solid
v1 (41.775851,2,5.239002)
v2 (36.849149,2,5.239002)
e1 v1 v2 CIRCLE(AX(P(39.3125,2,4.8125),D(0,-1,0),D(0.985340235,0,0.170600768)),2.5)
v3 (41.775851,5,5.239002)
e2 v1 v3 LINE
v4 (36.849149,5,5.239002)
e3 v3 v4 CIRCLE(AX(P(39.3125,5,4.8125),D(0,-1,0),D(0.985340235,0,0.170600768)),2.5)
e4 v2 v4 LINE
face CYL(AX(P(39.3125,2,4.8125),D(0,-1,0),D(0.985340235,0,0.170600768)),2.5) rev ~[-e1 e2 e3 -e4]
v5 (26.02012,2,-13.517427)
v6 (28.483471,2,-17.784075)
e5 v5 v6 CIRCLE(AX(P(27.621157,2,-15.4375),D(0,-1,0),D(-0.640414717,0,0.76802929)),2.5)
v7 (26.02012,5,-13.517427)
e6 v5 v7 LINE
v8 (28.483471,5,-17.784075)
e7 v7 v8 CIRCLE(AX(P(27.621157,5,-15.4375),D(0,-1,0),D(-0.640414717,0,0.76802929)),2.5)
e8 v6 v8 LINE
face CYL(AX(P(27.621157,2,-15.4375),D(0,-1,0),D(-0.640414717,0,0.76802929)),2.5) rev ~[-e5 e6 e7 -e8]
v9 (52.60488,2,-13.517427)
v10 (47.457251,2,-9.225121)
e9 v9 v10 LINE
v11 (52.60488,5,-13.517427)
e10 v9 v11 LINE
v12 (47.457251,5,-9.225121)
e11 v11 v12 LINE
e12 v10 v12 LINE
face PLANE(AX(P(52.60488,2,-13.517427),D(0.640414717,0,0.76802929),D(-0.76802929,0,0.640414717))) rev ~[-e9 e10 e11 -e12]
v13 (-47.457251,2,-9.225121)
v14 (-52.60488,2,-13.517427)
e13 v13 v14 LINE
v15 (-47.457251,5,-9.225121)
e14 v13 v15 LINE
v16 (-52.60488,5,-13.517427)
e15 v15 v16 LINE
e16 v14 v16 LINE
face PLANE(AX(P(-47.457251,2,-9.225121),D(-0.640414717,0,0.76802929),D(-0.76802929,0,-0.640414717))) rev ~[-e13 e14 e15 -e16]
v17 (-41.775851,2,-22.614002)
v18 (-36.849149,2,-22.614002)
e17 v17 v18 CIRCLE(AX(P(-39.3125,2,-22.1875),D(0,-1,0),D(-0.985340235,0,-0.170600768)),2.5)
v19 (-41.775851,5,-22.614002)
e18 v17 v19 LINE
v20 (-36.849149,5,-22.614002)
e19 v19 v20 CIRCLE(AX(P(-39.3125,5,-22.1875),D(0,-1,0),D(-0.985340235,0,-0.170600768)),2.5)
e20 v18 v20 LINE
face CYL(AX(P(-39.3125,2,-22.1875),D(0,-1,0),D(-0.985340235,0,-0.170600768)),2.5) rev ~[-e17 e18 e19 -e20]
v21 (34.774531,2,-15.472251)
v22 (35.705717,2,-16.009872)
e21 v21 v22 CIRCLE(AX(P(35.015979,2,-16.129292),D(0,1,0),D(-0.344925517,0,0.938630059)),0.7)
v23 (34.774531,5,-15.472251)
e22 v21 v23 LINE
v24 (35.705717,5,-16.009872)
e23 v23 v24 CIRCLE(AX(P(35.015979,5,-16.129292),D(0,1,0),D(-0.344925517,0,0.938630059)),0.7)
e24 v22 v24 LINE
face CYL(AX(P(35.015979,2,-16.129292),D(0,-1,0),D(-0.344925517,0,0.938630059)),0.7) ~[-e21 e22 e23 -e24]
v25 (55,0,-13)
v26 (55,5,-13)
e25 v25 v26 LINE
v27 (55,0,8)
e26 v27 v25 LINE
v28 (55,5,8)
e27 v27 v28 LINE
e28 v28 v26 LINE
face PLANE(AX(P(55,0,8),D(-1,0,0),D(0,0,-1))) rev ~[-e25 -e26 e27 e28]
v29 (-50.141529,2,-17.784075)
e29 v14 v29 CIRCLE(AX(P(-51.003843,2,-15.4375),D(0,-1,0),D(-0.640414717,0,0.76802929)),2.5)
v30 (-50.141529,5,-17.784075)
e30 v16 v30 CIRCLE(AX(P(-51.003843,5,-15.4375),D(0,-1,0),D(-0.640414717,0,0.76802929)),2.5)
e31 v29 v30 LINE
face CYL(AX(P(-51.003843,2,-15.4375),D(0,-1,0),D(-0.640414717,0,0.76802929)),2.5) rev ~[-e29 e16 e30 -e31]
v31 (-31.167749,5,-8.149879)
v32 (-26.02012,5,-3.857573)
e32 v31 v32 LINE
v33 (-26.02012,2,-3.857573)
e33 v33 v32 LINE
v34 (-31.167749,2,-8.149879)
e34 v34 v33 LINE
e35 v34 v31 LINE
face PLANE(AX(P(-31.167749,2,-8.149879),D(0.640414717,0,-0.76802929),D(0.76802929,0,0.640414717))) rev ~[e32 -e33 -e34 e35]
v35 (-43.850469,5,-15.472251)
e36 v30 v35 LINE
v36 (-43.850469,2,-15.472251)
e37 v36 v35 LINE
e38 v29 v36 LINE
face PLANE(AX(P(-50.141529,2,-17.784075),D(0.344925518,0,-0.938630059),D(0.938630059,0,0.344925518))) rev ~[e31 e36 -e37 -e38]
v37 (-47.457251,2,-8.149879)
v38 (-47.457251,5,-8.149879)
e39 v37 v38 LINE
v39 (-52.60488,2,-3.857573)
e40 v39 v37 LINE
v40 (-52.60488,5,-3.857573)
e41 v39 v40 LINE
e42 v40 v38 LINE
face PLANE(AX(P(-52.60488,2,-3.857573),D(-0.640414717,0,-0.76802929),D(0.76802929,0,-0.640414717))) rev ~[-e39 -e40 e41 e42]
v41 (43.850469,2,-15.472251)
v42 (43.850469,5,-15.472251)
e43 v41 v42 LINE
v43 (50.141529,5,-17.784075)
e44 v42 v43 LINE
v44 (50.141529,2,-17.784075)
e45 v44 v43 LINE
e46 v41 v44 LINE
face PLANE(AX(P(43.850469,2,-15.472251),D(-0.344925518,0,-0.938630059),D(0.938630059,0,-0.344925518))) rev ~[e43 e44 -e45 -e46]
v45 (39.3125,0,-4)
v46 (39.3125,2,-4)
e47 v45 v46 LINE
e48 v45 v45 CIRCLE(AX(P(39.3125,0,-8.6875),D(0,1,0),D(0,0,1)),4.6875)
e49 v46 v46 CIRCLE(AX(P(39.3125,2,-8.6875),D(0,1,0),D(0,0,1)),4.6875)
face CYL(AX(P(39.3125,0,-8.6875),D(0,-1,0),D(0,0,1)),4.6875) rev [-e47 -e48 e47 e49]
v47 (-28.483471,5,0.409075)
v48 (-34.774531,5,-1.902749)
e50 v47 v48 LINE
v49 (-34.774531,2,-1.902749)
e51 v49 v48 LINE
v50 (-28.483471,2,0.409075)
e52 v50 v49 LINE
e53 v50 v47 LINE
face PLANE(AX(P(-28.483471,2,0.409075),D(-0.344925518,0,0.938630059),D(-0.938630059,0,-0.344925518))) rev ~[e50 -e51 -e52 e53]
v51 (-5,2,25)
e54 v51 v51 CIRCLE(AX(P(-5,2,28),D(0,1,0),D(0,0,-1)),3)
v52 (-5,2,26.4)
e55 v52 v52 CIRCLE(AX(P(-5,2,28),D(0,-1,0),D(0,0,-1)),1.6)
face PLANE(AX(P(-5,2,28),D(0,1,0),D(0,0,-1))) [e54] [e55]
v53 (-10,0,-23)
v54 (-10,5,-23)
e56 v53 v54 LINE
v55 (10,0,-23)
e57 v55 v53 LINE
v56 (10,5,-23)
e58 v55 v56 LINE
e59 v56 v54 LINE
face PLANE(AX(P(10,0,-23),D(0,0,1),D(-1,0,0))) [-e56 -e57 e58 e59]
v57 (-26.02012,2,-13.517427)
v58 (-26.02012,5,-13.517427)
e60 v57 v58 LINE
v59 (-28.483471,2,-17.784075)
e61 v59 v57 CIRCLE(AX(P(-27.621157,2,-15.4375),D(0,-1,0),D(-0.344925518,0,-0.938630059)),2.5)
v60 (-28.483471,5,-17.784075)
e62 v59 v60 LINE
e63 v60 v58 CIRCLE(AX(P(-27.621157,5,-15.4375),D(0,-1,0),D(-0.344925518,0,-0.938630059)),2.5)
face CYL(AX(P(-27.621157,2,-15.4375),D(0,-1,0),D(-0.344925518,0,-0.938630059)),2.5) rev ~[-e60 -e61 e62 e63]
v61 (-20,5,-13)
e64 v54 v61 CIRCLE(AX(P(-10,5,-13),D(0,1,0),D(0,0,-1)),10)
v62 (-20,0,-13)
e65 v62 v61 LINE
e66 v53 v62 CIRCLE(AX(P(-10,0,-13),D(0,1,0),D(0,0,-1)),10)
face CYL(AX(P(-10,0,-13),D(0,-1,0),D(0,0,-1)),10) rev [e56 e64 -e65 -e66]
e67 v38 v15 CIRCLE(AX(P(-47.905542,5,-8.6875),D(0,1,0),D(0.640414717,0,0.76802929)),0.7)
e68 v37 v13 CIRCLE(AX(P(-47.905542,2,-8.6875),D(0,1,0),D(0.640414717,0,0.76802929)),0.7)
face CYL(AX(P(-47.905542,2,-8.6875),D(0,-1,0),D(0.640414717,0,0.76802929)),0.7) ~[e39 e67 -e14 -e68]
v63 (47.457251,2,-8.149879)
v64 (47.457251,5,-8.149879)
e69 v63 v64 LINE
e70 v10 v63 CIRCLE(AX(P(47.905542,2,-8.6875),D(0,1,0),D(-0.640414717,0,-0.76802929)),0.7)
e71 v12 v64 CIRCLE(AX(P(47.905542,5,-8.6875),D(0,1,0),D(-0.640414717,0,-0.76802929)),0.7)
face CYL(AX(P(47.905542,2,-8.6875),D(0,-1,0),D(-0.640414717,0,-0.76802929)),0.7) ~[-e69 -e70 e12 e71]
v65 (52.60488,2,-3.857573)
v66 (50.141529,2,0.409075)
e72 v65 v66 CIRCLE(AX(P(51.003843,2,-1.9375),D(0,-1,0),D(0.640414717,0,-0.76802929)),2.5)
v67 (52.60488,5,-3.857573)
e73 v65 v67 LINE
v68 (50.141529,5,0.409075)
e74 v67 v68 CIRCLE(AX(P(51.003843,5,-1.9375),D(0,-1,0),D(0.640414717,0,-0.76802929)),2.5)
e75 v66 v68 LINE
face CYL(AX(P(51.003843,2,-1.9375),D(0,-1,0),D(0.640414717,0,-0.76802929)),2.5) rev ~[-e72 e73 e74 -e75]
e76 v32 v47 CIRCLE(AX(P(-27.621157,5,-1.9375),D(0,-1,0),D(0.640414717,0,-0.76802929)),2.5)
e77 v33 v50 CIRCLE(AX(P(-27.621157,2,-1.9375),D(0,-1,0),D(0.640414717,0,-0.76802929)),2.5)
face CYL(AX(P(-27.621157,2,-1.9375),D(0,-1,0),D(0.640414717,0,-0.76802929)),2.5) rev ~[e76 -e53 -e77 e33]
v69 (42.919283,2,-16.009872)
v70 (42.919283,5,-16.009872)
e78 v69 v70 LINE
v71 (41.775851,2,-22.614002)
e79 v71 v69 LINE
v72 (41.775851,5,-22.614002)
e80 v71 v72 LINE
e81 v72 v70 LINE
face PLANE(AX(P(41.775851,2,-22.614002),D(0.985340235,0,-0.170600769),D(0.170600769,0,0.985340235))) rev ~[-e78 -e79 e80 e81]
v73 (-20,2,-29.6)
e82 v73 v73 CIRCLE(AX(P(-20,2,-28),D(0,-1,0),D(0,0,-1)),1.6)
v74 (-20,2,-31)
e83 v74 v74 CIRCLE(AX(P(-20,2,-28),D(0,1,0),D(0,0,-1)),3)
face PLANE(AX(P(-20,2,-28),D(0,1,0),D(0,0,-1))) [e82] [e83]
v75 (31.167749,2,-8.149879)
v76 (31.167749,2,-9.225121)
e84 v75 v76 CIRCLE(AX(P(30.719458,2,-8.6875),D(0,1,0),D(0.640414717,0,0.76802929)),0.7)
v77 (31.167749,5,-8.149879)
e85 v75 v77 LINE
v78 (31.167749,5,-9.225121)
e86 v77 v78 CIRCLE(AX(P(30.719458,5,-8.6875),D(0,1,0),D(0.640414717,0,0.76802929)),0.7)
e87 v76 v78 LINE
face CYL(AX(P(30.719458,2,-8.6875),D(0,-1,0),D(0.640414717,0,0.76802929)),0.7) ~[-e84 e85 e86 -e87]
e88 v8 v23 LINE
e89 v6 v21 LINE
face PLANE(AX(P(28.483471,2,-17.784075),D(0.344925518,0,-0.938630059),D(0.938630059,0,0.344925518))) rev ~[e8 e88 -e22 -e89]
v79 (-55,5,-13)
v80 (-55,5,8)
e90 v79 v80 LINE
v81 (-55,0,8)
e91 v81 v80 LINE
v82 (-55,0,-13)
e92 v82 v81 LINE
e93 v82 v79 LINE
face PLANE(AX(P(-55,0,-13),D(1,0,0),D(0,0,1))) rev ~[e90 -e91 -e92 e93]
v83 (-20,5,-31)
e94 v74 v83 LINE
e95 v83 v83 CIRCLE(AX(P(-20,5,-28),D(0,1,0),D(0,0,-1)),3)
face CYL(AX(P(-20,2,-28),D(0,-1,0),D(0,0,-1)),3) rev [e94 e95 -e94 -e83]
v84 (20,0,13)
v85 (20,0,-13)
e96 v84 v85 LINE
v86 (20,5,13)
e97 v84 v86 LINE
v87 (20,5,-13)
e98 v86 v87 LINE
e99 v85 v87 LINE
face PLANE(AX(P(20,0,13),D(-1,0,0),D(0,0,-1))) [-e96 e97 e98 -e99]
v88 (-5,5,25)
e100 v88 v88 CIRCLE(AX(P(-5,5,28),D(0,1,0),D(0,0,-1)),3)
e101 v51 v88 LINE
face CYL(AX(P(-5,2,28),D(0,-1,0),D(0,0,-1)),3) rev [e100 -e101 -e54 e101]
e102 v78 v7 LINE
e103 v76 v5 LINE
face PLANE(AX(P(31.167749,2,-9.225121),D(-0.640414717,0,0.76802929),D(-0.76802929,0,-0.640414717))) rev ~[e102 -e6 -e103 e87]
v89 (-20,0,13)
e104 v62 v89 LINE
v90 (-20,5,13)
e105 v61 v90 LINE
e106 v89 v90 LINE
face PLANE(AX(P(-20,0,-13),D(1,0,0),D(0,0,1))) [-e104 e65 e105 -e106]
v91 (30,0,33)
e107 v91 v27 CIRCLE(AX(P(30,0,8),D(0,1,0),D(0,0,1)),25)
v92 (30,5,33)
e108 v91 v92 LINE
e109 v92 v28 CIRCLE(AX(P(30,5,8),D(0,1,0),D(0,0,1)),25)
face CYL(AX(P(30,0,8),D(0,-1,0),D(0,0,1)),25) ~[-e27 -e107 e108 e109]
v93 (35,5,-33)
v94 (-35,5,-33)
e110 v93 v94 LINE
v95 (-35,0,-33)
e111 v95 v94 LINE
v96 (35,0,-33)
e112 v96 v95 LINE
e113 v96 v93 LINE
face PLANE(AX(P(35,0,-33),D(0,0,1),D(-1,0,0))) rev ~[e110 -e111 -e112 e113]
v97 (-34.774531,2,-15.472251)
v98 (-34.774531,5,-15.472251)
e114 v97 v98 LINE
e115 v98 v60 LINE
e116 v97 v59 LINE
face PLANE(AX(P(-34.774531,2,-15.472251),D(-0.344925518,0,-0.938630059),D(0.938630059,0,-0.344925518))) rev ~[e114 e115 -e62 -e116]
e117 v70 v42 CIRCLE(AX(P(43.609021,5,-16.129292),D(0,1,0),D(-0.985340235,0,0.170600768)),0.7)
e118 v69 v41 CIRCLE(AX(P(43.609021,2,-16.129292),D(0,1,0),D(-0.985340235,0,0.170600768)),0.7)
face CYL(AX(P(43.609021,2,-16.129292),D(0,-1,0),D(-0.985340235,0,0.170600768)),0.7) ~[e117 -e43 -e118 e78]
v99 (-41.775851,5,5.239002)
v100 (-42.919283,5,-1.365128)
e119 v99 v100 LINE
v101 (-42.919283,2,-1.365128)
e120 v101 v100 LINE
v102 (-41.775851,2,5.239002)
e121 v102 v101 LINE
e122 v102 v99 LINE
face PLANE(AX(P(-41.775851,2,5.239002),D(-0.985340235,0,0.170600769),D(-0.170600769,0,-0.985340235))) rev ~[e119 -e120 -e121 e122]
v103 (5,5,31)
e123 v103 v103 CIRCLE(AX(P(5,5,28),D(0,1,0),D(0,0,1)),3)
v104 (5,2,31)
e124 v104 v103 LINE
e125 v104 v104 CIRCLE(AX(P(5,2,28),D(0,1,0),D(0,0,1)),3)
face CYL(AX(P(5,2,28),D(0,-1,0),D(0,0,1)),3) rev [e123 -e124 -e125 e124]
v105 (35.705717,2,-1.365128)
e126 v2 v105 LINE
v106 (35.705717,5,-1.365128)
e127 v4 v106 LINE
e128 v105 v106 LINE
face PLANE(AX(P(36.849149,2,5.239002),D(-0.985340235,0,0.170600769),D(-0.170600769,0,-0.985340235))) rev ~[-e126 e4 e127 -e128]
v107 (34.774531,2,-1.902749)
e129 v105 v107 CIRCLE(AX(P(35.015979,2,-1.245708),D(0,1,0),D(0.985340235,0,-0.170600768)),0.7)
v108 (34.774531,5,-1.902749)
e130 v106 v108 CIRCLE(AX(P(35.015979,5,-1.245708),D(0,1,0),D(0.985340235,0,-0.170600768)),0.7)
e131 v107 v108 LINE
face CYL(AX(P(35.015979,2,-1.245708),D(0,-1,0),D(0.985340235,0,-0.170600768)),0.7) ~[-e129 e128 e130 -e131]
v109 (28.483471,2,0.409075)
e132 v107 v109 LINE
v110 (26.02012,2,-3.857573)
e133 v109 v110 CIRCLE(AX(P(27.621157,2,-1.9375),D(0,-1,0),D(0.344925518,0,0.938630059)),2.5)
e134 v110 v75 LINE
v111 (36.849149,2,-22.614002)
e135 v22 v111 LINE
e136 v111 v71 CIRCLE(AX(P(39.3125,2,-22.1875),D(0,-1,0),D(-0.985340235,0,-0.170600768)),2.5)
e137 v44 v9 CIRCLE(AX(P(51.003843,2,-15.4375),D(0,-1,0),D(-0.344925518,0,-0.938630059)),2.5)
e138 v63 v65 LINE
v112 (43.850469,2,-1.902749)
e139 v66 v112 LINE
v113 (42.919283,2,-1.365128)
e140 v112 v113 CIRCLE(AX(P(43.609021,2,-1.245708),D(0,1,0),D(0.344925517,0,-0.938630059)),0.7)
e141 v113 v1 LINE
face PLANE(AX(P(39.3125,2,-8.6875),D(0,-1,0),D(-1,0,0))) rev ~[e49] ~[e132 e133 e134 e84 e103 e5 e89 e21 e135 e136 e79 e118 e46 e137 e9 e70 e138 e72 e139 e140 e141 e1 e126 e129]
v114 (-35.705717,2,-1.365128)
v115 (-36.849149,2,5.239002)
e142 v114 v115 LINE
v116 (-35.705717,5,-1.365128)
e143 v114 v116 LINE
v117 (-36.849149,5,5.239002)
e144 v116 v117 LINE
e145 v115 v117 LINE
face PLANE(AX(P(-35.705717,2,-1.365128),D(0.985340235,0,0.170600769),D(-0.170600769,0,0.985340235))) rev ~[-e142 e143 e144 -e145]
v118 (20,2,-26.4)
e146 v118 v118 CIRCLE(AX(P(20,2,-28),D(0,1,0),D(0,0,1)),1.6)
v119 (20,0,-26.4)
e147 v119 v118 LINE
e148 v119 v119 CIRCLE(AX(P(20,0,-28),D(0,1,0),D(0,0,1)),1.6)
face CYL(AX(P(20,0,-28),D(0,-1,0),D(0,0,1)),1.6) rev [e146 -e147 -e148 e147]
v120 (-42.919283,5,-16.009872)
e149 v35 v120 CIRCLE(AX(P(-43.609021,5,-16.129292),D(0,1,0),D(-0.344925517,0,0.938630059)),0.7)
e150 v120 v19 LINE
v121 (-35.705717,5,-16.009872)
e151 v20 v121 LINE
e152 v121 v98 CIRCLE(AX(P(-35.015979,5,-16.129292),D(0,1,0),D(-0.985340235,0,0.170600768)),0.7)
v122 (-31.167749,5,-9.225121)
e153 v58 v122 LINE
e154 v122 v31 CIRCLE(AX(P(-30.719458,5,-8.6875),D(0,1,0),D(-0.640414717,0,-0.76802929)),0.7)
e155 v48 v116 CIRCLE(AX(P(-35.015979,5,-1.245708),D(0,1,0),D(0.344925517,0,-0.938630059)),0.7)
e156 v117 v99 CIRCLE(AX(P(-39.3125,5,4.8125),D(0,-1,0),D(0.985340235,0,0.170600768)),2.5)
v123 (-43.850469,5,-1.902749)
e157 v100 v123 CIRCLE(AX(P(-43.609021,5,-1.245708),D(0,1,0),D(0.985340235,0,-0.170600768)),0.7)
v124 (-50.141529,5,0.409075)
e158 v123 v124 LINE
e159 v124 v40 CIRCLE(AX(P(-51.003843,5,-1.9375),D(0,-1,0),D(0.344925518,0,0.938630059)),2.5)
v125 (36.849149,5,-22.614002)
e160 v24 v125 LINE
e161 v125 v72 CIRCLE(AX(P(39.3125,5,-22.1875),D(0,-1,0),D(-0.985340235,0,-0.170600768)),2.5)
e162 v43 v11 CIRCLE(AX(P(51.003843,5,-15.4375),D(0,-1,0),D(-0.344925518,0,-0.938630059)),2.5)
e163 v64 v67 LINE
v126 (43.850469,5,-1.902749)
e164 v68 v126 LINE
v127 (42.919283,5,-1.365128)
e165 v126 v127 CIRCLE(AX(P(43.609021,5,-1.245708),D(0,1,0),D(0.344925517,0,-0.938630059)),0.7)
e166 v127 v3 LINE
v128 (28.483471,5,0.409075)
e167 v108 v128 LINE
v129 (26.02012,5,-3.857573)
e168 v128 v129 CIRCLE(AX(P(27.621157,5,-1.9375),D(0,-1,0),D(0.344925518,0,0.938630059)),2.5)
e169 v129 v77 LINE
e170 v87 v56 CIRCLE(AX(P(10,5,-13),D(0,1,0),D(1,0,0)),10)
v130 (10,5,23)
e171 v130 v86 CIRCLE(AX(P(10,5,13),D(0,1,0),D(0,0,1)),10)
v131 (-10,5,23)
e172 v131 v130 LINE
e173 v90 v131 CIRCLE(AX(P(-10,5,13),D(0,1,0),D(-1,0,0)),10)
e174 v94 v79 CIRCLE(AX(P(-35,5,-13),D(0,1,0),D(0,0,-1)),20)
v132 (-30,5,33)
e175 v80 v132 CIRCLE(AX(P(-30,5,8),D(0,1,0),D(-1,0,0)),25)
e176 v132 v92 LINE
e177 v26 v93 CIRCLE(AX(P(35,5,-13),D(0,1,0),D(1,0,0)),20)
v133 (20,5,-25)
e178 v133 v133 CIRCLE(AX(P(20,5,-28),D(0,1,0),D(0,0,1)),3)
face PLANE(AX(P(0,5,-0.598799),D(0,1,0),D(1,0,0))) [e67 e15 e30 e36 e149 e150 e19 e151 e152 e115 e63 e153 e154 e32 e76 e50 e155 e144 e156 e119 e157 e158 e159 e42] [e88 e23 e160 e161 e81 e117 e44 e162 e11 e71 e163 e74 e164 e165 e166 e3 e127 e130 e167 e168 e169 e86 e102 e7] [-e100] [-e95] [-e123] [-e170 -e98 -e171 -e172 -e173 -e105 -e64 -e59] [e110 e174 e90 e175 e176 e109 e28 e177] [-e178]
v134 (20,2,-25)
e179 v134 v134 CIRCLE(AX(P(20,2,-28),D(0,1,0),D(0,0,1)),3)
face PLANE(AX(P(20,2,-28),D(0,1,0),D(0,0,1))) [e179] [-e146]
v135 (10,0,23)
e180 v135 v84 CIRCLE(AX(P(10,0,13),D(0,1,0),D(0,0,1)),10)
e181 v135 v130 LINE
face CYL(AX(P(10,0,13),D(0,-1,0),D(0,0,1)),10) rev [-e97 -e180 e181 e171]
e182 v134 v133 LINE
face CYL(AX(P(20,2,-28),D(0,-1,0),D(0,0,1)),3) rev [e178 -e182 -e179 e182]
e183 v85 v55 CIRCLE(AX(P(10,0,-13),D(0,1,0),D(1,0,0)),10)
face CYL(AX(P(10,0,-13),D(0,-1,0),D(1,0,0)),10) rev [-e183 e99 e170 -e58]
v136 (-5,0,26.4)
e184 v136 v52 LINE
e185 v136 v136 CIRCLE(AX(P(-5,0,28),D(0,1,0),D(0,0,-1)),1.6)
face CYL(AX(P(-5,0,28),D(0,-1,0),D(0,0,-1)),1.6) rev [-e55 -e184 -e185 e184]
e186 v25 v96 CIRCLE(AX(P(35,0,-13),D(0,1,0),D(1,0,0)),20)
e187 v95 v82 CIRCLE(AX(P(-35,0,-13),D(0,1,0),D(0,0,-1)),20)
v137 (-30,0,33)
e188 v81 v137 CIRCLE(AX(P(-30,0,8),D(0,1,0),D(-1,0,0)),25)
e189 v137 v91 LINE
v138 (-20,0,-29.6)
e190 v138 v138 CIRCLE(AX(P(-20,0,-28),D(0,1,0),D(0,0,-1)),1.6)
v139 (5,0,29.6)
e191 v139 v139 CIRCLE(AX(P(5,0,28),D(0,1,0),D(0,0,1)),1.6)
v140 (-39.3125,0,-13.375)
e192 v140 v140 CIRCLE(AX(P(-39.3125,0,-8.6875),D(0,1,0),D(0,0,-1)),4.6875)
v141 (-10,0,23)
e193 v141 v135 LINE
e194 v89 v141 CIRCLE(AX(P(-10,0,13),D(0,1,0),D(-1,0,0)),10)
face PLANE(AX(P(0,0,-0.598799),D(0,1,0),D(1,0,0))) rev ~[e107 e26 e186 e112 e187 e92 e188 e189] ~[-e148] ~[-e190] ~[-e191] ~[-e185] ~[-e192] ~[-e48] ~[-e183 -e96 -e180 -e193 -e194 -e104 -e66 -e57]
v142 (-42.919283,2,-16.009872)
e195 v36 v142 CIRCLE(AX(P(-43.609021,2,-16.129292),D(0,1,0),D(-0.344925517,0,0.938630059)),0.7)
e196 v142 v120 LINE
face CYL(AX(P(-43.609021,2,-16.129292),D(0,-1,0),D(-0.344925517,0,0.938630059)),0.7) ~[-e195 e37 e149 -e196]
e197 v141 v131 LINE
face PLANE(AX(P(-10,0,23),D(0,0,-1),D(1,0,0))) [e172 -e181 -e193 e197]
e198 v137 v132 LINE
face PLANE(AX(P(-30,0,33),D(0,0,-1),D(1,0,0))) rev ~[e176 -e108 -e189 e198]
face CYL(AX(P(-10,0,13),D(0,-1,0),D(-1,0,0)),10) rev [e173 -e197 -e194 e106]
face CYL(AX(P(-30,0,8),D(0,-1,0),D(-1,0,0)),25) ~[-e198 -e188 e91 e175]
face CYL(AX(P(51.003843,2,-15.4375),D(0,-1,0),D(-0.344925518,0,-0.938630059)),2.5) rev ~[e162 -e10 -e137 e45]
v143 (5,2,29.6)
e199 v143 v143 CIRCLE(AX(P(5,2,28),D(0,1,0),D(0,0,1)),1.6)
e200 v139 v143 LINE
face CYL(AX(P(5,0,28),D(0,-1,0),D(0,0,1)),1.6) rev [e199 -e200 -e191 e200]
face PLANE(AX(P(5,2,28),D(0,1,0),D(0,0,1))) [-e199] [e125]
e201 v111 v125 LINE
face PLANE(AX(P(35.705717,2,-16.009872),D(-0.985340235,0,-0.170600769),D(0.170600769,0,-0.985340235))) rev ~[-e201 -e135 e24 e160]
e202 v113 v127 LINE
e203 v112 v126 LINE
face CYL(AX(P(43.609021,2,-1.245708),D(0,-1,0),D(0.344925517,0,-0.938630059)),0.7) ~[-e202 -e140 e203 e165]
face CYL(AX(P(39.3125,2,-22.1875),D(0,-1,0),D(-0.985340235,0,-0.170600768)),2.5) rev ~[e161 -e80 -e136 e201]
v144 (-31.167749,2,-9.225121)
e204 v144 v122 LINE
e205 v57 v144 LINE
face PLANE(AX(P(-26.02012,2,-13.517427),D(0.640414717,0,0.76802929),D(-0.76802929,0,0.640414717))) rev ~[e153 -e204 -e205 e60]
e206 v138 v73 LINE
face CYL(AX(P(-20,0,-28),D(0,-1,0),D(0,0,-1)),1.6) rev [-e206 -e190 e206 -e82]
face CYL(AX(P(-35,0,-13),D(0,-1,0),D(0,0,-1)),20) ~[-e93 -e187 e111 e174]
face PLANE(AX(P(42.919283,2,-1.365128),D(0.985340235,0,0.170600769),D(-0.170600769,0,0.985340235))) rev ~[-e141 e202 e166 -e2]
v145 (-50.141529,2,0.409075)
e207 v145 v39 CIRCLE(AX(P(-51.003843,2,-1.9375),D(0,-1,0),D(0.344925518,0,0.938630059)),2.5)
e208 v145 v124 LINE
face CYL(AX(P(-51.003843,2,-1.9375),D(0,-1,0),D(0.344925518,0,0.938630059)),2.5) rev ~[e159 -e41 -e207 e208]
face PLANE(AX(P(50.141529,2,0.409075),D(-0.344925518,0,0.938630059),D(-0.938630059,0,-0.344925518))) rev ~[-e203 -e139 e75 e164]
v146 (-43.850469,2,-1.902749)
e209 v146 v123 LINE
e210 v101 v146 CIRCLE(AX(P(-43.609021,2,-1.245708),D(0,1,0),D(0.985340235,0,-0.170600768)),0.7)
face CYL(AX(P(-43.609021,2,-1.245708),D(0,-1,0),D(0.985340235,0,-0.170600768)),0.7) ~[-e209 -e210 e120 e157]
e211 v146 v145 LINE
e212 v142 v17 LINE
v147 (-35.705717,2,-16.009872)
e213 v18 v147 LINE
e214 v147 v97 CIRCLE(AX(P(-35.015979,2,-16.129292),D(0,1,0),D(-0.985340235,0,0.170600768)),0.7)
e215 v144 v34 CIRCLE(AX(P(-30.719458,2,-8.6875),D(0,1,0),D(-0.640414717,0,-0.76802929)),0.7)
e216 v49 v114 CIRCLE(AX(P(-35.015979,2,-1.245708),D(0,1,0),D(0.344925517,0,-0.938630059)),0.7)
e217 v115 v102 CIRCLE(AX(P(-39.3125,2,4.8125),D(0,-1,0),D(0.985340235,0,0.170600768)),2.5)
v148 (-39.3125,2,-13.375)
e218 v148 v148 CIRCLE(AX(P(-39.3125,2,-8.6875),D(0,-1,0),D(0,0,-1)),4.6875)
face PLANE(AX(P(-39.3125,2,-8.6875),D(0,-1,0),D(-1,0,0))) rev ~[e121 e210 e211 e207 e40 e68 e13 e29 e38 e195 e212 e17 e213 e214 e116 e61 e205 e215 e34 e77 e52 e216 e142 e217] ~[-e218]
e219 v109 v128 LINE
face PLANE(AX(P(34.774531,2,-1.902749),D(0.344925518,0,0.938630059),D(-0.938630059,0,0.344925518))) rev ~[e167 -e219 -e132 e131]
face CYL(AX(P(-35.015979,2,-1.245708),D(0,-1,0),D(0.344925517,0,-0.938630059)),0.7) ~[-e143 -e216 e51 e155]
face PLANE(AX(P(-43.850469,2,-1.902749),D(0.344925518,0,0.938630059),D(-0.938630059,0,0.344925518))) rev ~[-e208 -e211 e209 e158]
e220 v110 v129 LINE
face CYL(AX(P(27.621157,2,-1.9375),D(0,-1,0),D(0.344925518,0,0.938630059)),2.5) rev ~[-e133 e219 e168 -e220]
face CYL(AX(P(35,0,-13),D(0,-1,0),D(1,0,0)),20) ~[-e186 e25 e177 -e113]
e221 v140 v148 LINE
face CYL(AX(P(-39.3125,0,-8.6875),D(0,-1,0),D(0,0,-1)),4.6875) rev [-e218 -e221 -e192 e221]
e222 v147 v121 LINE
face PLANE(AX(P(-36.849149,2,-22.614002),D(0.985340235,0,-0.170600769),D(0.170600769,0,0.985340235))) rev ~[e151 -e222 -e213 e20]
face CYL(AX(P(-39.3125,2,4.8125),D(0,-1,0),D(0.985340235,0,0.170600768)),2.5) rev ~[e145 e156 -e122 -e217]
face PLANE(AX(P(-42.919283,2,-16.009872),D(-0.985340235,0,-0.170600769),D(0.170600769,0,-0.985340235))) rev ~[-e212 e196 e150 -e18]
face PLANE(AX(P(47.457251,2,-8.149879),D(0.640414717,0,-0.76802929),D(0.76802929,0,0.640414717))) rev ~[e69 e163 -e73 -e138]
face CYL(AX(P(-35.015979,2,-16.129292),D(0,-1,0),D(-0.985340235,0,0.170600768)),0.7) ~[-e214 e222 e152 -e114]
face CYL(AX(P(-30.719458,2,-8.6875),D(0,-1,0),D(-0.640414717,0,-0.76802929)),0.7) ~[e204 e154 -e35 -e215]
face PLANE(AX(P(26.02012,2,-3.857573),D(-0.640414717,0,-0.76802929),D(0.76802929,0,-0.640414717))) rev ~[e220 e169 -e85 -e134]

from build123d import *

# Parameters (mm, degrees)
CROQUIS1_R              = 1.6
CROQUIS1_R_2            = 4.6875
SALIENTE_EXTRUIR1_DEPTH = 5
CORTAR_EXTRUIR1_START   = -3
CROQUIS2_R              = 3
CROQUIS2_R_2            = 1.6
CROQUIS2_R_3            = 4.6875
CORTAR_EXTRUIR1_DEPTH   = 3


with BuildPart() as part:
    # Croquis1 → Saliente-Extruir1 (new body)
    with BuildSketch(Plane(origin=(0, 0, 0), x_dir=(1, 0, 0), z_dir=(0, 1, 0))):
        with BuildLine():
            Line((-30, -33), (30, -33))
            ThreePointArc((30, -33), (47.67766953, -25.67766953), (55, -8))
            Line((55, -8), (55, 13))
            ThreePointArc((55, 13), (49.142135624, 27.142135624), (35, 33))
            Line((35, 33), (-35, 33))
            ThreePointArc((-35, 33), (-49.142135624, 27.142135624), (-55, 13))
            Line((-55, 13), (-55, -8))
            ThreePointArc((-55, -8), (-47.67766953, -25.67766953), (-30, -33))
        make_face()
        with Locations(Location((5, -28, 0), (0, 0, 270))):
            Circle(CROQUIS1_R, mode=Mode.SUBTRACT)
        with Locations(Location((20, 28, 0), (0, 0, 270))):
            Circle(CROQUIS1_R, mode=Mode.SUBTRACT)
        with Locations(Location((39.3125, 8.6875, 0), (0, 0, 270))):
            Circle(CROQUIS1_R_2, mode=Mode.SUBTRACT)
        with Locations(Location((-5, -28, 0), (0, 0, 90))):
            Circle(CROQUIS1_R, mode=Mode.SUBTRACT)
        with Locations(Location((-39.3125, 8.6875, 0), (0, 0, 90))):
            Circle(CROQUIS1_R_2, mode=Mode.SUBTRACT)
        with Locations(Location((-20, 28, 0), (0, 0, 90))):
            Circle(CROQUIS1_R, mode=Mode.SUBTRACT)
        with BuildLine():
            Line((-10, -23), (10, -23))
            ThreePointArc((10, -23), (17.071067812, -20.071067812), (20, -13))
            Line((20, -13), (20, 13))
            ThreePointArc((20, 13), (17.071067812, 20.071067812), (10, 23))
            Line((10, 23), (-10, 23))
            ThreePointArc((-10, 23), (-17.071067812, 20.071067812), (-20, 13))
            Line((-20, 13), (-20, -13))
            ThreePointArc((-20, -13), (-17.071067812, -20.071067812), (-10, -23))
        make_face(mode=Mode.SUBTRACT)
    extrude(amount=SALIENTE_EXTRUIR1_DEPTH)

    # Croquis2 → Cortar-Extruir1 (cut)
    # profile 1 of 6: a face of its own
    with BuildSketch(Plane(origin=(0, 5, 0), x_dir=(1, 0, 0), z_dir=(0, 1, 0)).offset(CORTAR_EXTRUIR1_START)):
        with Locations(Location((20, 28, 0), (0, 0, 270))):
            Circle(CROQUIS2_R)
        with Locations(Location((20, 28, 0), (0, 0, 270))):
            Circle(CROQUIS2_R_2, mode=Mode.SUBTRACT)
    # profile 2 of 6: a face of its own
    with BuildSketch(Plane(origin=(0, 5, 0), x_dir=(1, 0, 0), z_dir=(0, 1, 0)).offset(CORTAR_EXTRUIR1_START)):
        with Locations(Location((5, -28, 0), (0, 0, 270))):
            Circle(CROQUIS2_R)
        with Locations(Location((5, -28, 0), (0, 0, 270))):
            Circle(CROQUIS2_R_2, mode=Mode.SUBTRACT)
    # profile 3 of 6: a face of its own
    with BuildSketch(Plane(origin=(0, 5, 0), x_dir=(1, 0, 0), z_dir=(0, 1, 0)).offset(CORTAR_EXTRUIR1_START)):
        with Locations(Location((-5, -28, 0), (0, 0, 90))):
            Circle(CROQUIS2_R)
    # profile 4 of 6: a face of its own
    with BuildSketch(Plane(origin=(0, 5, 0), x_dir=(1, 0, 0), z_dir=(0, 1, 0)).offset(CORTAR_EXTRUIR1_START)):
        with Locations(Location((-20, 28, 0), (0, 0, 90))):
            Circle(CROQUIS2_R)
    # profile 5 of 6: a face of its own
    with BuildSketch(Plane(origin=(0, 5, 0), x_dir=(1, 0, 0), z_dir=(0, 1, 0)).offset(CORTAR_EXTRUIR1_START)):
        with BuildLine():
            Line((35.705717307, 16.009871883), (36.849149414, 22.614001921))
            ThreePointArc((36.849149414, 22.614001921), (39.3125, 24.6875), (41.775850586, 22.614001921))
            Line((41.775850586, 22.614001921), (42.919282693, 16.009871883))
            ThreePointArc((42.919282693, 16.009871883), (43.259020857, 15.523074638), (43.85046872, 15.472251379))
            Line((43.85046872, 15.472251379), (50.141529157, 17.784075147))
            ThreePointArc((50.141529157, 17.784075147), (53.168906461, 16.6875), (52.604879743, 13.517426775))
            Line((52.604879743, 13.517426775), (47.457251413, 9.225120503))
            ThreePointArc((47.457251413, 9.225120503), (47.205541715, 8.6875), (47.457251413, 8.149879497))
            Line((47.457251413, 8.149879497), (52.604879743, 3.857573225))
            ThreePointArc((52.604879743, 3.857573225), (53.168906461, 0.6875), (50.141529157, -0.409075147))
            Line((50.141529157, -0.409075147), (43.85046872, 1.902748621))
            ThreePointArc((43.85046872, 1.902748621), (43.259020857, 1.851925362), (42.919282693, 1.365128117))
            Line((42.919282693, 1.365128117), (41.775850586, -5.239001921))
            ThreePointArc((41.775850586, -5.239001921), (39.3125, -7.3125), (36.849149414, -5.239001921))
            Line((36.849149414, -5.239001921), (35.705717307, 1.365128117))
            ThreePointArc((35.705717307, 1.365128117), (35.365979143, 1.851925362), (34.77453128, 1.902748621))
            Line((34.77453128, 1.902748621), (28.483470843, -0.409075147))
            ThreePointArc((28.483470843, -0.409075147), (25.456093539, 0.6875), (26.020120257, 3.857573225))
            Line((26.020120257, 3.857573225), (31.167748587, 8.149879497))
            ThreePointArc((31.167748587, 8.149879497), (31.419458285, 8.6875), (31.167748587, 9.225120503))
            Line((31.167748587, 9.225120503), (26.020120257, 13.517426775))
            ThreePointArc((26.020120257, 13.517426775), (25.456093539, 16.6875), (28.483470843, 17.784075147))
            Line((28.483470843, 17.784075147), (34.77453128, 15.472251379))
            ThreePointArc((34.77453128, 15.472251379), (35.365979143, 15.523074638), (35.705717307, 16.009871883))
        make_face()
        with Locations(Location((39.3125, 8.6875, 0), (0, 0, 270))):
            Circle(CROQUIS2_R_3, mode=Mode.SUBTRACT)
    # profile 6 of 6: a face of its own
    with BuildSketch(Plane(origin=(0, 5, 0), x_dir=(1, 0, 0), z_dir=(0, 1, 0)).offset(CORTAR_EXTRUIR1_START)):
        with BuildLine():
            Line((-34.77453128, 15.472251379), (-28.483470843, 17.784075147))
            ThreePointArc((-28.483470843, 17.784075147), (-25.456093539, 16.6875), (-26.020120257, 13.517426775))
            Line((-26.020120257, 13.517426775), (-31.167748587, 9.225120503))
            ThreePointArc((-31.167748587, 9.225120503), (-31.419458285, 8.6875), (-31.167748587, 8.149879497))
            Line((-31.167748587, 8.149879497), (-26.020120257, 3.857573225))
            ThreePointArc((-26.020120257, 3.857573225), (-25.456093539, 0.6875), (-28.483470843, -0.409075147))
            Line((-28.483470843, -0.409075147), (-34.77453128, 1.902748621))
            ThreePointArc((-34.77453128, 1.902748621), (-35.365979143, 1.851925362), (-35.705717307, 1.365128117))
            Line((-35.705717307, 1.365128117), (-36.849149414, -5.239001921))
            ThreePointArc((-36.849149414, -5.239001921), (-39.3125, -7.3125), (-41.775850586, -5.239001921))
            Line((-41.775850586, -5.239001921), (-42.919282693, 1.365128117))
            ThreePointArc((-42.919282693, 1.365128117), (-43.259020857, 1.851925362), (-43.85046872, 1.902748621))
            Line((-43.85046872, 1.902748621), (-50.141529157, -0.409075147))
            ThreePointArc((-50.141529157, -0.409075147), (-53.168906461, 0.6875), (-52.604879743, 3.857573225))
            Line((-52.604879743, 3.857573225), (-47.457251413, 8.149879497))
            ThreePointArc((-47.457251413, 8.149879497), (-47.205541715, 8.6875), (-47.457251413, 9.225120503))
            Line((-47.457251413, 9.225120503), (-52.604879743, 13.517426775))
            ThreePointArc((-52.604879743, 13.517426775), (-53.168906461, 16.6875), (-50.141529157, 17.784075147))
            Line((-50.141529157, 17.784075147), (-43.85046872, 15.472251379))
            ThreePointArc((-43.85046872, 15.472251379), (-43.259020857, 15.523074638), (-42.919282693, 16.009871883))
            Line((-42.919282693, 16.009871883), (-41.775850586, 22.614001921))
            ThreePointArc((-41.775850586, 22.614001921), (-39.3125, 24.6875), (-36.849149414, 22.614001921))
            Line((-36.849149414, 22.614001921), (-35.705717307, 16.009871883))
            ThreePointArc((-35.705717307, 16.009871883), (-35.365979143, 15.523074638), (-34.77453128, 15.472251379))
        make_face()
    extrude(amount=CORTAR_EXTRUIR1_DEPTH, mode=Mode.SUBTRACT)


solid = part.part
